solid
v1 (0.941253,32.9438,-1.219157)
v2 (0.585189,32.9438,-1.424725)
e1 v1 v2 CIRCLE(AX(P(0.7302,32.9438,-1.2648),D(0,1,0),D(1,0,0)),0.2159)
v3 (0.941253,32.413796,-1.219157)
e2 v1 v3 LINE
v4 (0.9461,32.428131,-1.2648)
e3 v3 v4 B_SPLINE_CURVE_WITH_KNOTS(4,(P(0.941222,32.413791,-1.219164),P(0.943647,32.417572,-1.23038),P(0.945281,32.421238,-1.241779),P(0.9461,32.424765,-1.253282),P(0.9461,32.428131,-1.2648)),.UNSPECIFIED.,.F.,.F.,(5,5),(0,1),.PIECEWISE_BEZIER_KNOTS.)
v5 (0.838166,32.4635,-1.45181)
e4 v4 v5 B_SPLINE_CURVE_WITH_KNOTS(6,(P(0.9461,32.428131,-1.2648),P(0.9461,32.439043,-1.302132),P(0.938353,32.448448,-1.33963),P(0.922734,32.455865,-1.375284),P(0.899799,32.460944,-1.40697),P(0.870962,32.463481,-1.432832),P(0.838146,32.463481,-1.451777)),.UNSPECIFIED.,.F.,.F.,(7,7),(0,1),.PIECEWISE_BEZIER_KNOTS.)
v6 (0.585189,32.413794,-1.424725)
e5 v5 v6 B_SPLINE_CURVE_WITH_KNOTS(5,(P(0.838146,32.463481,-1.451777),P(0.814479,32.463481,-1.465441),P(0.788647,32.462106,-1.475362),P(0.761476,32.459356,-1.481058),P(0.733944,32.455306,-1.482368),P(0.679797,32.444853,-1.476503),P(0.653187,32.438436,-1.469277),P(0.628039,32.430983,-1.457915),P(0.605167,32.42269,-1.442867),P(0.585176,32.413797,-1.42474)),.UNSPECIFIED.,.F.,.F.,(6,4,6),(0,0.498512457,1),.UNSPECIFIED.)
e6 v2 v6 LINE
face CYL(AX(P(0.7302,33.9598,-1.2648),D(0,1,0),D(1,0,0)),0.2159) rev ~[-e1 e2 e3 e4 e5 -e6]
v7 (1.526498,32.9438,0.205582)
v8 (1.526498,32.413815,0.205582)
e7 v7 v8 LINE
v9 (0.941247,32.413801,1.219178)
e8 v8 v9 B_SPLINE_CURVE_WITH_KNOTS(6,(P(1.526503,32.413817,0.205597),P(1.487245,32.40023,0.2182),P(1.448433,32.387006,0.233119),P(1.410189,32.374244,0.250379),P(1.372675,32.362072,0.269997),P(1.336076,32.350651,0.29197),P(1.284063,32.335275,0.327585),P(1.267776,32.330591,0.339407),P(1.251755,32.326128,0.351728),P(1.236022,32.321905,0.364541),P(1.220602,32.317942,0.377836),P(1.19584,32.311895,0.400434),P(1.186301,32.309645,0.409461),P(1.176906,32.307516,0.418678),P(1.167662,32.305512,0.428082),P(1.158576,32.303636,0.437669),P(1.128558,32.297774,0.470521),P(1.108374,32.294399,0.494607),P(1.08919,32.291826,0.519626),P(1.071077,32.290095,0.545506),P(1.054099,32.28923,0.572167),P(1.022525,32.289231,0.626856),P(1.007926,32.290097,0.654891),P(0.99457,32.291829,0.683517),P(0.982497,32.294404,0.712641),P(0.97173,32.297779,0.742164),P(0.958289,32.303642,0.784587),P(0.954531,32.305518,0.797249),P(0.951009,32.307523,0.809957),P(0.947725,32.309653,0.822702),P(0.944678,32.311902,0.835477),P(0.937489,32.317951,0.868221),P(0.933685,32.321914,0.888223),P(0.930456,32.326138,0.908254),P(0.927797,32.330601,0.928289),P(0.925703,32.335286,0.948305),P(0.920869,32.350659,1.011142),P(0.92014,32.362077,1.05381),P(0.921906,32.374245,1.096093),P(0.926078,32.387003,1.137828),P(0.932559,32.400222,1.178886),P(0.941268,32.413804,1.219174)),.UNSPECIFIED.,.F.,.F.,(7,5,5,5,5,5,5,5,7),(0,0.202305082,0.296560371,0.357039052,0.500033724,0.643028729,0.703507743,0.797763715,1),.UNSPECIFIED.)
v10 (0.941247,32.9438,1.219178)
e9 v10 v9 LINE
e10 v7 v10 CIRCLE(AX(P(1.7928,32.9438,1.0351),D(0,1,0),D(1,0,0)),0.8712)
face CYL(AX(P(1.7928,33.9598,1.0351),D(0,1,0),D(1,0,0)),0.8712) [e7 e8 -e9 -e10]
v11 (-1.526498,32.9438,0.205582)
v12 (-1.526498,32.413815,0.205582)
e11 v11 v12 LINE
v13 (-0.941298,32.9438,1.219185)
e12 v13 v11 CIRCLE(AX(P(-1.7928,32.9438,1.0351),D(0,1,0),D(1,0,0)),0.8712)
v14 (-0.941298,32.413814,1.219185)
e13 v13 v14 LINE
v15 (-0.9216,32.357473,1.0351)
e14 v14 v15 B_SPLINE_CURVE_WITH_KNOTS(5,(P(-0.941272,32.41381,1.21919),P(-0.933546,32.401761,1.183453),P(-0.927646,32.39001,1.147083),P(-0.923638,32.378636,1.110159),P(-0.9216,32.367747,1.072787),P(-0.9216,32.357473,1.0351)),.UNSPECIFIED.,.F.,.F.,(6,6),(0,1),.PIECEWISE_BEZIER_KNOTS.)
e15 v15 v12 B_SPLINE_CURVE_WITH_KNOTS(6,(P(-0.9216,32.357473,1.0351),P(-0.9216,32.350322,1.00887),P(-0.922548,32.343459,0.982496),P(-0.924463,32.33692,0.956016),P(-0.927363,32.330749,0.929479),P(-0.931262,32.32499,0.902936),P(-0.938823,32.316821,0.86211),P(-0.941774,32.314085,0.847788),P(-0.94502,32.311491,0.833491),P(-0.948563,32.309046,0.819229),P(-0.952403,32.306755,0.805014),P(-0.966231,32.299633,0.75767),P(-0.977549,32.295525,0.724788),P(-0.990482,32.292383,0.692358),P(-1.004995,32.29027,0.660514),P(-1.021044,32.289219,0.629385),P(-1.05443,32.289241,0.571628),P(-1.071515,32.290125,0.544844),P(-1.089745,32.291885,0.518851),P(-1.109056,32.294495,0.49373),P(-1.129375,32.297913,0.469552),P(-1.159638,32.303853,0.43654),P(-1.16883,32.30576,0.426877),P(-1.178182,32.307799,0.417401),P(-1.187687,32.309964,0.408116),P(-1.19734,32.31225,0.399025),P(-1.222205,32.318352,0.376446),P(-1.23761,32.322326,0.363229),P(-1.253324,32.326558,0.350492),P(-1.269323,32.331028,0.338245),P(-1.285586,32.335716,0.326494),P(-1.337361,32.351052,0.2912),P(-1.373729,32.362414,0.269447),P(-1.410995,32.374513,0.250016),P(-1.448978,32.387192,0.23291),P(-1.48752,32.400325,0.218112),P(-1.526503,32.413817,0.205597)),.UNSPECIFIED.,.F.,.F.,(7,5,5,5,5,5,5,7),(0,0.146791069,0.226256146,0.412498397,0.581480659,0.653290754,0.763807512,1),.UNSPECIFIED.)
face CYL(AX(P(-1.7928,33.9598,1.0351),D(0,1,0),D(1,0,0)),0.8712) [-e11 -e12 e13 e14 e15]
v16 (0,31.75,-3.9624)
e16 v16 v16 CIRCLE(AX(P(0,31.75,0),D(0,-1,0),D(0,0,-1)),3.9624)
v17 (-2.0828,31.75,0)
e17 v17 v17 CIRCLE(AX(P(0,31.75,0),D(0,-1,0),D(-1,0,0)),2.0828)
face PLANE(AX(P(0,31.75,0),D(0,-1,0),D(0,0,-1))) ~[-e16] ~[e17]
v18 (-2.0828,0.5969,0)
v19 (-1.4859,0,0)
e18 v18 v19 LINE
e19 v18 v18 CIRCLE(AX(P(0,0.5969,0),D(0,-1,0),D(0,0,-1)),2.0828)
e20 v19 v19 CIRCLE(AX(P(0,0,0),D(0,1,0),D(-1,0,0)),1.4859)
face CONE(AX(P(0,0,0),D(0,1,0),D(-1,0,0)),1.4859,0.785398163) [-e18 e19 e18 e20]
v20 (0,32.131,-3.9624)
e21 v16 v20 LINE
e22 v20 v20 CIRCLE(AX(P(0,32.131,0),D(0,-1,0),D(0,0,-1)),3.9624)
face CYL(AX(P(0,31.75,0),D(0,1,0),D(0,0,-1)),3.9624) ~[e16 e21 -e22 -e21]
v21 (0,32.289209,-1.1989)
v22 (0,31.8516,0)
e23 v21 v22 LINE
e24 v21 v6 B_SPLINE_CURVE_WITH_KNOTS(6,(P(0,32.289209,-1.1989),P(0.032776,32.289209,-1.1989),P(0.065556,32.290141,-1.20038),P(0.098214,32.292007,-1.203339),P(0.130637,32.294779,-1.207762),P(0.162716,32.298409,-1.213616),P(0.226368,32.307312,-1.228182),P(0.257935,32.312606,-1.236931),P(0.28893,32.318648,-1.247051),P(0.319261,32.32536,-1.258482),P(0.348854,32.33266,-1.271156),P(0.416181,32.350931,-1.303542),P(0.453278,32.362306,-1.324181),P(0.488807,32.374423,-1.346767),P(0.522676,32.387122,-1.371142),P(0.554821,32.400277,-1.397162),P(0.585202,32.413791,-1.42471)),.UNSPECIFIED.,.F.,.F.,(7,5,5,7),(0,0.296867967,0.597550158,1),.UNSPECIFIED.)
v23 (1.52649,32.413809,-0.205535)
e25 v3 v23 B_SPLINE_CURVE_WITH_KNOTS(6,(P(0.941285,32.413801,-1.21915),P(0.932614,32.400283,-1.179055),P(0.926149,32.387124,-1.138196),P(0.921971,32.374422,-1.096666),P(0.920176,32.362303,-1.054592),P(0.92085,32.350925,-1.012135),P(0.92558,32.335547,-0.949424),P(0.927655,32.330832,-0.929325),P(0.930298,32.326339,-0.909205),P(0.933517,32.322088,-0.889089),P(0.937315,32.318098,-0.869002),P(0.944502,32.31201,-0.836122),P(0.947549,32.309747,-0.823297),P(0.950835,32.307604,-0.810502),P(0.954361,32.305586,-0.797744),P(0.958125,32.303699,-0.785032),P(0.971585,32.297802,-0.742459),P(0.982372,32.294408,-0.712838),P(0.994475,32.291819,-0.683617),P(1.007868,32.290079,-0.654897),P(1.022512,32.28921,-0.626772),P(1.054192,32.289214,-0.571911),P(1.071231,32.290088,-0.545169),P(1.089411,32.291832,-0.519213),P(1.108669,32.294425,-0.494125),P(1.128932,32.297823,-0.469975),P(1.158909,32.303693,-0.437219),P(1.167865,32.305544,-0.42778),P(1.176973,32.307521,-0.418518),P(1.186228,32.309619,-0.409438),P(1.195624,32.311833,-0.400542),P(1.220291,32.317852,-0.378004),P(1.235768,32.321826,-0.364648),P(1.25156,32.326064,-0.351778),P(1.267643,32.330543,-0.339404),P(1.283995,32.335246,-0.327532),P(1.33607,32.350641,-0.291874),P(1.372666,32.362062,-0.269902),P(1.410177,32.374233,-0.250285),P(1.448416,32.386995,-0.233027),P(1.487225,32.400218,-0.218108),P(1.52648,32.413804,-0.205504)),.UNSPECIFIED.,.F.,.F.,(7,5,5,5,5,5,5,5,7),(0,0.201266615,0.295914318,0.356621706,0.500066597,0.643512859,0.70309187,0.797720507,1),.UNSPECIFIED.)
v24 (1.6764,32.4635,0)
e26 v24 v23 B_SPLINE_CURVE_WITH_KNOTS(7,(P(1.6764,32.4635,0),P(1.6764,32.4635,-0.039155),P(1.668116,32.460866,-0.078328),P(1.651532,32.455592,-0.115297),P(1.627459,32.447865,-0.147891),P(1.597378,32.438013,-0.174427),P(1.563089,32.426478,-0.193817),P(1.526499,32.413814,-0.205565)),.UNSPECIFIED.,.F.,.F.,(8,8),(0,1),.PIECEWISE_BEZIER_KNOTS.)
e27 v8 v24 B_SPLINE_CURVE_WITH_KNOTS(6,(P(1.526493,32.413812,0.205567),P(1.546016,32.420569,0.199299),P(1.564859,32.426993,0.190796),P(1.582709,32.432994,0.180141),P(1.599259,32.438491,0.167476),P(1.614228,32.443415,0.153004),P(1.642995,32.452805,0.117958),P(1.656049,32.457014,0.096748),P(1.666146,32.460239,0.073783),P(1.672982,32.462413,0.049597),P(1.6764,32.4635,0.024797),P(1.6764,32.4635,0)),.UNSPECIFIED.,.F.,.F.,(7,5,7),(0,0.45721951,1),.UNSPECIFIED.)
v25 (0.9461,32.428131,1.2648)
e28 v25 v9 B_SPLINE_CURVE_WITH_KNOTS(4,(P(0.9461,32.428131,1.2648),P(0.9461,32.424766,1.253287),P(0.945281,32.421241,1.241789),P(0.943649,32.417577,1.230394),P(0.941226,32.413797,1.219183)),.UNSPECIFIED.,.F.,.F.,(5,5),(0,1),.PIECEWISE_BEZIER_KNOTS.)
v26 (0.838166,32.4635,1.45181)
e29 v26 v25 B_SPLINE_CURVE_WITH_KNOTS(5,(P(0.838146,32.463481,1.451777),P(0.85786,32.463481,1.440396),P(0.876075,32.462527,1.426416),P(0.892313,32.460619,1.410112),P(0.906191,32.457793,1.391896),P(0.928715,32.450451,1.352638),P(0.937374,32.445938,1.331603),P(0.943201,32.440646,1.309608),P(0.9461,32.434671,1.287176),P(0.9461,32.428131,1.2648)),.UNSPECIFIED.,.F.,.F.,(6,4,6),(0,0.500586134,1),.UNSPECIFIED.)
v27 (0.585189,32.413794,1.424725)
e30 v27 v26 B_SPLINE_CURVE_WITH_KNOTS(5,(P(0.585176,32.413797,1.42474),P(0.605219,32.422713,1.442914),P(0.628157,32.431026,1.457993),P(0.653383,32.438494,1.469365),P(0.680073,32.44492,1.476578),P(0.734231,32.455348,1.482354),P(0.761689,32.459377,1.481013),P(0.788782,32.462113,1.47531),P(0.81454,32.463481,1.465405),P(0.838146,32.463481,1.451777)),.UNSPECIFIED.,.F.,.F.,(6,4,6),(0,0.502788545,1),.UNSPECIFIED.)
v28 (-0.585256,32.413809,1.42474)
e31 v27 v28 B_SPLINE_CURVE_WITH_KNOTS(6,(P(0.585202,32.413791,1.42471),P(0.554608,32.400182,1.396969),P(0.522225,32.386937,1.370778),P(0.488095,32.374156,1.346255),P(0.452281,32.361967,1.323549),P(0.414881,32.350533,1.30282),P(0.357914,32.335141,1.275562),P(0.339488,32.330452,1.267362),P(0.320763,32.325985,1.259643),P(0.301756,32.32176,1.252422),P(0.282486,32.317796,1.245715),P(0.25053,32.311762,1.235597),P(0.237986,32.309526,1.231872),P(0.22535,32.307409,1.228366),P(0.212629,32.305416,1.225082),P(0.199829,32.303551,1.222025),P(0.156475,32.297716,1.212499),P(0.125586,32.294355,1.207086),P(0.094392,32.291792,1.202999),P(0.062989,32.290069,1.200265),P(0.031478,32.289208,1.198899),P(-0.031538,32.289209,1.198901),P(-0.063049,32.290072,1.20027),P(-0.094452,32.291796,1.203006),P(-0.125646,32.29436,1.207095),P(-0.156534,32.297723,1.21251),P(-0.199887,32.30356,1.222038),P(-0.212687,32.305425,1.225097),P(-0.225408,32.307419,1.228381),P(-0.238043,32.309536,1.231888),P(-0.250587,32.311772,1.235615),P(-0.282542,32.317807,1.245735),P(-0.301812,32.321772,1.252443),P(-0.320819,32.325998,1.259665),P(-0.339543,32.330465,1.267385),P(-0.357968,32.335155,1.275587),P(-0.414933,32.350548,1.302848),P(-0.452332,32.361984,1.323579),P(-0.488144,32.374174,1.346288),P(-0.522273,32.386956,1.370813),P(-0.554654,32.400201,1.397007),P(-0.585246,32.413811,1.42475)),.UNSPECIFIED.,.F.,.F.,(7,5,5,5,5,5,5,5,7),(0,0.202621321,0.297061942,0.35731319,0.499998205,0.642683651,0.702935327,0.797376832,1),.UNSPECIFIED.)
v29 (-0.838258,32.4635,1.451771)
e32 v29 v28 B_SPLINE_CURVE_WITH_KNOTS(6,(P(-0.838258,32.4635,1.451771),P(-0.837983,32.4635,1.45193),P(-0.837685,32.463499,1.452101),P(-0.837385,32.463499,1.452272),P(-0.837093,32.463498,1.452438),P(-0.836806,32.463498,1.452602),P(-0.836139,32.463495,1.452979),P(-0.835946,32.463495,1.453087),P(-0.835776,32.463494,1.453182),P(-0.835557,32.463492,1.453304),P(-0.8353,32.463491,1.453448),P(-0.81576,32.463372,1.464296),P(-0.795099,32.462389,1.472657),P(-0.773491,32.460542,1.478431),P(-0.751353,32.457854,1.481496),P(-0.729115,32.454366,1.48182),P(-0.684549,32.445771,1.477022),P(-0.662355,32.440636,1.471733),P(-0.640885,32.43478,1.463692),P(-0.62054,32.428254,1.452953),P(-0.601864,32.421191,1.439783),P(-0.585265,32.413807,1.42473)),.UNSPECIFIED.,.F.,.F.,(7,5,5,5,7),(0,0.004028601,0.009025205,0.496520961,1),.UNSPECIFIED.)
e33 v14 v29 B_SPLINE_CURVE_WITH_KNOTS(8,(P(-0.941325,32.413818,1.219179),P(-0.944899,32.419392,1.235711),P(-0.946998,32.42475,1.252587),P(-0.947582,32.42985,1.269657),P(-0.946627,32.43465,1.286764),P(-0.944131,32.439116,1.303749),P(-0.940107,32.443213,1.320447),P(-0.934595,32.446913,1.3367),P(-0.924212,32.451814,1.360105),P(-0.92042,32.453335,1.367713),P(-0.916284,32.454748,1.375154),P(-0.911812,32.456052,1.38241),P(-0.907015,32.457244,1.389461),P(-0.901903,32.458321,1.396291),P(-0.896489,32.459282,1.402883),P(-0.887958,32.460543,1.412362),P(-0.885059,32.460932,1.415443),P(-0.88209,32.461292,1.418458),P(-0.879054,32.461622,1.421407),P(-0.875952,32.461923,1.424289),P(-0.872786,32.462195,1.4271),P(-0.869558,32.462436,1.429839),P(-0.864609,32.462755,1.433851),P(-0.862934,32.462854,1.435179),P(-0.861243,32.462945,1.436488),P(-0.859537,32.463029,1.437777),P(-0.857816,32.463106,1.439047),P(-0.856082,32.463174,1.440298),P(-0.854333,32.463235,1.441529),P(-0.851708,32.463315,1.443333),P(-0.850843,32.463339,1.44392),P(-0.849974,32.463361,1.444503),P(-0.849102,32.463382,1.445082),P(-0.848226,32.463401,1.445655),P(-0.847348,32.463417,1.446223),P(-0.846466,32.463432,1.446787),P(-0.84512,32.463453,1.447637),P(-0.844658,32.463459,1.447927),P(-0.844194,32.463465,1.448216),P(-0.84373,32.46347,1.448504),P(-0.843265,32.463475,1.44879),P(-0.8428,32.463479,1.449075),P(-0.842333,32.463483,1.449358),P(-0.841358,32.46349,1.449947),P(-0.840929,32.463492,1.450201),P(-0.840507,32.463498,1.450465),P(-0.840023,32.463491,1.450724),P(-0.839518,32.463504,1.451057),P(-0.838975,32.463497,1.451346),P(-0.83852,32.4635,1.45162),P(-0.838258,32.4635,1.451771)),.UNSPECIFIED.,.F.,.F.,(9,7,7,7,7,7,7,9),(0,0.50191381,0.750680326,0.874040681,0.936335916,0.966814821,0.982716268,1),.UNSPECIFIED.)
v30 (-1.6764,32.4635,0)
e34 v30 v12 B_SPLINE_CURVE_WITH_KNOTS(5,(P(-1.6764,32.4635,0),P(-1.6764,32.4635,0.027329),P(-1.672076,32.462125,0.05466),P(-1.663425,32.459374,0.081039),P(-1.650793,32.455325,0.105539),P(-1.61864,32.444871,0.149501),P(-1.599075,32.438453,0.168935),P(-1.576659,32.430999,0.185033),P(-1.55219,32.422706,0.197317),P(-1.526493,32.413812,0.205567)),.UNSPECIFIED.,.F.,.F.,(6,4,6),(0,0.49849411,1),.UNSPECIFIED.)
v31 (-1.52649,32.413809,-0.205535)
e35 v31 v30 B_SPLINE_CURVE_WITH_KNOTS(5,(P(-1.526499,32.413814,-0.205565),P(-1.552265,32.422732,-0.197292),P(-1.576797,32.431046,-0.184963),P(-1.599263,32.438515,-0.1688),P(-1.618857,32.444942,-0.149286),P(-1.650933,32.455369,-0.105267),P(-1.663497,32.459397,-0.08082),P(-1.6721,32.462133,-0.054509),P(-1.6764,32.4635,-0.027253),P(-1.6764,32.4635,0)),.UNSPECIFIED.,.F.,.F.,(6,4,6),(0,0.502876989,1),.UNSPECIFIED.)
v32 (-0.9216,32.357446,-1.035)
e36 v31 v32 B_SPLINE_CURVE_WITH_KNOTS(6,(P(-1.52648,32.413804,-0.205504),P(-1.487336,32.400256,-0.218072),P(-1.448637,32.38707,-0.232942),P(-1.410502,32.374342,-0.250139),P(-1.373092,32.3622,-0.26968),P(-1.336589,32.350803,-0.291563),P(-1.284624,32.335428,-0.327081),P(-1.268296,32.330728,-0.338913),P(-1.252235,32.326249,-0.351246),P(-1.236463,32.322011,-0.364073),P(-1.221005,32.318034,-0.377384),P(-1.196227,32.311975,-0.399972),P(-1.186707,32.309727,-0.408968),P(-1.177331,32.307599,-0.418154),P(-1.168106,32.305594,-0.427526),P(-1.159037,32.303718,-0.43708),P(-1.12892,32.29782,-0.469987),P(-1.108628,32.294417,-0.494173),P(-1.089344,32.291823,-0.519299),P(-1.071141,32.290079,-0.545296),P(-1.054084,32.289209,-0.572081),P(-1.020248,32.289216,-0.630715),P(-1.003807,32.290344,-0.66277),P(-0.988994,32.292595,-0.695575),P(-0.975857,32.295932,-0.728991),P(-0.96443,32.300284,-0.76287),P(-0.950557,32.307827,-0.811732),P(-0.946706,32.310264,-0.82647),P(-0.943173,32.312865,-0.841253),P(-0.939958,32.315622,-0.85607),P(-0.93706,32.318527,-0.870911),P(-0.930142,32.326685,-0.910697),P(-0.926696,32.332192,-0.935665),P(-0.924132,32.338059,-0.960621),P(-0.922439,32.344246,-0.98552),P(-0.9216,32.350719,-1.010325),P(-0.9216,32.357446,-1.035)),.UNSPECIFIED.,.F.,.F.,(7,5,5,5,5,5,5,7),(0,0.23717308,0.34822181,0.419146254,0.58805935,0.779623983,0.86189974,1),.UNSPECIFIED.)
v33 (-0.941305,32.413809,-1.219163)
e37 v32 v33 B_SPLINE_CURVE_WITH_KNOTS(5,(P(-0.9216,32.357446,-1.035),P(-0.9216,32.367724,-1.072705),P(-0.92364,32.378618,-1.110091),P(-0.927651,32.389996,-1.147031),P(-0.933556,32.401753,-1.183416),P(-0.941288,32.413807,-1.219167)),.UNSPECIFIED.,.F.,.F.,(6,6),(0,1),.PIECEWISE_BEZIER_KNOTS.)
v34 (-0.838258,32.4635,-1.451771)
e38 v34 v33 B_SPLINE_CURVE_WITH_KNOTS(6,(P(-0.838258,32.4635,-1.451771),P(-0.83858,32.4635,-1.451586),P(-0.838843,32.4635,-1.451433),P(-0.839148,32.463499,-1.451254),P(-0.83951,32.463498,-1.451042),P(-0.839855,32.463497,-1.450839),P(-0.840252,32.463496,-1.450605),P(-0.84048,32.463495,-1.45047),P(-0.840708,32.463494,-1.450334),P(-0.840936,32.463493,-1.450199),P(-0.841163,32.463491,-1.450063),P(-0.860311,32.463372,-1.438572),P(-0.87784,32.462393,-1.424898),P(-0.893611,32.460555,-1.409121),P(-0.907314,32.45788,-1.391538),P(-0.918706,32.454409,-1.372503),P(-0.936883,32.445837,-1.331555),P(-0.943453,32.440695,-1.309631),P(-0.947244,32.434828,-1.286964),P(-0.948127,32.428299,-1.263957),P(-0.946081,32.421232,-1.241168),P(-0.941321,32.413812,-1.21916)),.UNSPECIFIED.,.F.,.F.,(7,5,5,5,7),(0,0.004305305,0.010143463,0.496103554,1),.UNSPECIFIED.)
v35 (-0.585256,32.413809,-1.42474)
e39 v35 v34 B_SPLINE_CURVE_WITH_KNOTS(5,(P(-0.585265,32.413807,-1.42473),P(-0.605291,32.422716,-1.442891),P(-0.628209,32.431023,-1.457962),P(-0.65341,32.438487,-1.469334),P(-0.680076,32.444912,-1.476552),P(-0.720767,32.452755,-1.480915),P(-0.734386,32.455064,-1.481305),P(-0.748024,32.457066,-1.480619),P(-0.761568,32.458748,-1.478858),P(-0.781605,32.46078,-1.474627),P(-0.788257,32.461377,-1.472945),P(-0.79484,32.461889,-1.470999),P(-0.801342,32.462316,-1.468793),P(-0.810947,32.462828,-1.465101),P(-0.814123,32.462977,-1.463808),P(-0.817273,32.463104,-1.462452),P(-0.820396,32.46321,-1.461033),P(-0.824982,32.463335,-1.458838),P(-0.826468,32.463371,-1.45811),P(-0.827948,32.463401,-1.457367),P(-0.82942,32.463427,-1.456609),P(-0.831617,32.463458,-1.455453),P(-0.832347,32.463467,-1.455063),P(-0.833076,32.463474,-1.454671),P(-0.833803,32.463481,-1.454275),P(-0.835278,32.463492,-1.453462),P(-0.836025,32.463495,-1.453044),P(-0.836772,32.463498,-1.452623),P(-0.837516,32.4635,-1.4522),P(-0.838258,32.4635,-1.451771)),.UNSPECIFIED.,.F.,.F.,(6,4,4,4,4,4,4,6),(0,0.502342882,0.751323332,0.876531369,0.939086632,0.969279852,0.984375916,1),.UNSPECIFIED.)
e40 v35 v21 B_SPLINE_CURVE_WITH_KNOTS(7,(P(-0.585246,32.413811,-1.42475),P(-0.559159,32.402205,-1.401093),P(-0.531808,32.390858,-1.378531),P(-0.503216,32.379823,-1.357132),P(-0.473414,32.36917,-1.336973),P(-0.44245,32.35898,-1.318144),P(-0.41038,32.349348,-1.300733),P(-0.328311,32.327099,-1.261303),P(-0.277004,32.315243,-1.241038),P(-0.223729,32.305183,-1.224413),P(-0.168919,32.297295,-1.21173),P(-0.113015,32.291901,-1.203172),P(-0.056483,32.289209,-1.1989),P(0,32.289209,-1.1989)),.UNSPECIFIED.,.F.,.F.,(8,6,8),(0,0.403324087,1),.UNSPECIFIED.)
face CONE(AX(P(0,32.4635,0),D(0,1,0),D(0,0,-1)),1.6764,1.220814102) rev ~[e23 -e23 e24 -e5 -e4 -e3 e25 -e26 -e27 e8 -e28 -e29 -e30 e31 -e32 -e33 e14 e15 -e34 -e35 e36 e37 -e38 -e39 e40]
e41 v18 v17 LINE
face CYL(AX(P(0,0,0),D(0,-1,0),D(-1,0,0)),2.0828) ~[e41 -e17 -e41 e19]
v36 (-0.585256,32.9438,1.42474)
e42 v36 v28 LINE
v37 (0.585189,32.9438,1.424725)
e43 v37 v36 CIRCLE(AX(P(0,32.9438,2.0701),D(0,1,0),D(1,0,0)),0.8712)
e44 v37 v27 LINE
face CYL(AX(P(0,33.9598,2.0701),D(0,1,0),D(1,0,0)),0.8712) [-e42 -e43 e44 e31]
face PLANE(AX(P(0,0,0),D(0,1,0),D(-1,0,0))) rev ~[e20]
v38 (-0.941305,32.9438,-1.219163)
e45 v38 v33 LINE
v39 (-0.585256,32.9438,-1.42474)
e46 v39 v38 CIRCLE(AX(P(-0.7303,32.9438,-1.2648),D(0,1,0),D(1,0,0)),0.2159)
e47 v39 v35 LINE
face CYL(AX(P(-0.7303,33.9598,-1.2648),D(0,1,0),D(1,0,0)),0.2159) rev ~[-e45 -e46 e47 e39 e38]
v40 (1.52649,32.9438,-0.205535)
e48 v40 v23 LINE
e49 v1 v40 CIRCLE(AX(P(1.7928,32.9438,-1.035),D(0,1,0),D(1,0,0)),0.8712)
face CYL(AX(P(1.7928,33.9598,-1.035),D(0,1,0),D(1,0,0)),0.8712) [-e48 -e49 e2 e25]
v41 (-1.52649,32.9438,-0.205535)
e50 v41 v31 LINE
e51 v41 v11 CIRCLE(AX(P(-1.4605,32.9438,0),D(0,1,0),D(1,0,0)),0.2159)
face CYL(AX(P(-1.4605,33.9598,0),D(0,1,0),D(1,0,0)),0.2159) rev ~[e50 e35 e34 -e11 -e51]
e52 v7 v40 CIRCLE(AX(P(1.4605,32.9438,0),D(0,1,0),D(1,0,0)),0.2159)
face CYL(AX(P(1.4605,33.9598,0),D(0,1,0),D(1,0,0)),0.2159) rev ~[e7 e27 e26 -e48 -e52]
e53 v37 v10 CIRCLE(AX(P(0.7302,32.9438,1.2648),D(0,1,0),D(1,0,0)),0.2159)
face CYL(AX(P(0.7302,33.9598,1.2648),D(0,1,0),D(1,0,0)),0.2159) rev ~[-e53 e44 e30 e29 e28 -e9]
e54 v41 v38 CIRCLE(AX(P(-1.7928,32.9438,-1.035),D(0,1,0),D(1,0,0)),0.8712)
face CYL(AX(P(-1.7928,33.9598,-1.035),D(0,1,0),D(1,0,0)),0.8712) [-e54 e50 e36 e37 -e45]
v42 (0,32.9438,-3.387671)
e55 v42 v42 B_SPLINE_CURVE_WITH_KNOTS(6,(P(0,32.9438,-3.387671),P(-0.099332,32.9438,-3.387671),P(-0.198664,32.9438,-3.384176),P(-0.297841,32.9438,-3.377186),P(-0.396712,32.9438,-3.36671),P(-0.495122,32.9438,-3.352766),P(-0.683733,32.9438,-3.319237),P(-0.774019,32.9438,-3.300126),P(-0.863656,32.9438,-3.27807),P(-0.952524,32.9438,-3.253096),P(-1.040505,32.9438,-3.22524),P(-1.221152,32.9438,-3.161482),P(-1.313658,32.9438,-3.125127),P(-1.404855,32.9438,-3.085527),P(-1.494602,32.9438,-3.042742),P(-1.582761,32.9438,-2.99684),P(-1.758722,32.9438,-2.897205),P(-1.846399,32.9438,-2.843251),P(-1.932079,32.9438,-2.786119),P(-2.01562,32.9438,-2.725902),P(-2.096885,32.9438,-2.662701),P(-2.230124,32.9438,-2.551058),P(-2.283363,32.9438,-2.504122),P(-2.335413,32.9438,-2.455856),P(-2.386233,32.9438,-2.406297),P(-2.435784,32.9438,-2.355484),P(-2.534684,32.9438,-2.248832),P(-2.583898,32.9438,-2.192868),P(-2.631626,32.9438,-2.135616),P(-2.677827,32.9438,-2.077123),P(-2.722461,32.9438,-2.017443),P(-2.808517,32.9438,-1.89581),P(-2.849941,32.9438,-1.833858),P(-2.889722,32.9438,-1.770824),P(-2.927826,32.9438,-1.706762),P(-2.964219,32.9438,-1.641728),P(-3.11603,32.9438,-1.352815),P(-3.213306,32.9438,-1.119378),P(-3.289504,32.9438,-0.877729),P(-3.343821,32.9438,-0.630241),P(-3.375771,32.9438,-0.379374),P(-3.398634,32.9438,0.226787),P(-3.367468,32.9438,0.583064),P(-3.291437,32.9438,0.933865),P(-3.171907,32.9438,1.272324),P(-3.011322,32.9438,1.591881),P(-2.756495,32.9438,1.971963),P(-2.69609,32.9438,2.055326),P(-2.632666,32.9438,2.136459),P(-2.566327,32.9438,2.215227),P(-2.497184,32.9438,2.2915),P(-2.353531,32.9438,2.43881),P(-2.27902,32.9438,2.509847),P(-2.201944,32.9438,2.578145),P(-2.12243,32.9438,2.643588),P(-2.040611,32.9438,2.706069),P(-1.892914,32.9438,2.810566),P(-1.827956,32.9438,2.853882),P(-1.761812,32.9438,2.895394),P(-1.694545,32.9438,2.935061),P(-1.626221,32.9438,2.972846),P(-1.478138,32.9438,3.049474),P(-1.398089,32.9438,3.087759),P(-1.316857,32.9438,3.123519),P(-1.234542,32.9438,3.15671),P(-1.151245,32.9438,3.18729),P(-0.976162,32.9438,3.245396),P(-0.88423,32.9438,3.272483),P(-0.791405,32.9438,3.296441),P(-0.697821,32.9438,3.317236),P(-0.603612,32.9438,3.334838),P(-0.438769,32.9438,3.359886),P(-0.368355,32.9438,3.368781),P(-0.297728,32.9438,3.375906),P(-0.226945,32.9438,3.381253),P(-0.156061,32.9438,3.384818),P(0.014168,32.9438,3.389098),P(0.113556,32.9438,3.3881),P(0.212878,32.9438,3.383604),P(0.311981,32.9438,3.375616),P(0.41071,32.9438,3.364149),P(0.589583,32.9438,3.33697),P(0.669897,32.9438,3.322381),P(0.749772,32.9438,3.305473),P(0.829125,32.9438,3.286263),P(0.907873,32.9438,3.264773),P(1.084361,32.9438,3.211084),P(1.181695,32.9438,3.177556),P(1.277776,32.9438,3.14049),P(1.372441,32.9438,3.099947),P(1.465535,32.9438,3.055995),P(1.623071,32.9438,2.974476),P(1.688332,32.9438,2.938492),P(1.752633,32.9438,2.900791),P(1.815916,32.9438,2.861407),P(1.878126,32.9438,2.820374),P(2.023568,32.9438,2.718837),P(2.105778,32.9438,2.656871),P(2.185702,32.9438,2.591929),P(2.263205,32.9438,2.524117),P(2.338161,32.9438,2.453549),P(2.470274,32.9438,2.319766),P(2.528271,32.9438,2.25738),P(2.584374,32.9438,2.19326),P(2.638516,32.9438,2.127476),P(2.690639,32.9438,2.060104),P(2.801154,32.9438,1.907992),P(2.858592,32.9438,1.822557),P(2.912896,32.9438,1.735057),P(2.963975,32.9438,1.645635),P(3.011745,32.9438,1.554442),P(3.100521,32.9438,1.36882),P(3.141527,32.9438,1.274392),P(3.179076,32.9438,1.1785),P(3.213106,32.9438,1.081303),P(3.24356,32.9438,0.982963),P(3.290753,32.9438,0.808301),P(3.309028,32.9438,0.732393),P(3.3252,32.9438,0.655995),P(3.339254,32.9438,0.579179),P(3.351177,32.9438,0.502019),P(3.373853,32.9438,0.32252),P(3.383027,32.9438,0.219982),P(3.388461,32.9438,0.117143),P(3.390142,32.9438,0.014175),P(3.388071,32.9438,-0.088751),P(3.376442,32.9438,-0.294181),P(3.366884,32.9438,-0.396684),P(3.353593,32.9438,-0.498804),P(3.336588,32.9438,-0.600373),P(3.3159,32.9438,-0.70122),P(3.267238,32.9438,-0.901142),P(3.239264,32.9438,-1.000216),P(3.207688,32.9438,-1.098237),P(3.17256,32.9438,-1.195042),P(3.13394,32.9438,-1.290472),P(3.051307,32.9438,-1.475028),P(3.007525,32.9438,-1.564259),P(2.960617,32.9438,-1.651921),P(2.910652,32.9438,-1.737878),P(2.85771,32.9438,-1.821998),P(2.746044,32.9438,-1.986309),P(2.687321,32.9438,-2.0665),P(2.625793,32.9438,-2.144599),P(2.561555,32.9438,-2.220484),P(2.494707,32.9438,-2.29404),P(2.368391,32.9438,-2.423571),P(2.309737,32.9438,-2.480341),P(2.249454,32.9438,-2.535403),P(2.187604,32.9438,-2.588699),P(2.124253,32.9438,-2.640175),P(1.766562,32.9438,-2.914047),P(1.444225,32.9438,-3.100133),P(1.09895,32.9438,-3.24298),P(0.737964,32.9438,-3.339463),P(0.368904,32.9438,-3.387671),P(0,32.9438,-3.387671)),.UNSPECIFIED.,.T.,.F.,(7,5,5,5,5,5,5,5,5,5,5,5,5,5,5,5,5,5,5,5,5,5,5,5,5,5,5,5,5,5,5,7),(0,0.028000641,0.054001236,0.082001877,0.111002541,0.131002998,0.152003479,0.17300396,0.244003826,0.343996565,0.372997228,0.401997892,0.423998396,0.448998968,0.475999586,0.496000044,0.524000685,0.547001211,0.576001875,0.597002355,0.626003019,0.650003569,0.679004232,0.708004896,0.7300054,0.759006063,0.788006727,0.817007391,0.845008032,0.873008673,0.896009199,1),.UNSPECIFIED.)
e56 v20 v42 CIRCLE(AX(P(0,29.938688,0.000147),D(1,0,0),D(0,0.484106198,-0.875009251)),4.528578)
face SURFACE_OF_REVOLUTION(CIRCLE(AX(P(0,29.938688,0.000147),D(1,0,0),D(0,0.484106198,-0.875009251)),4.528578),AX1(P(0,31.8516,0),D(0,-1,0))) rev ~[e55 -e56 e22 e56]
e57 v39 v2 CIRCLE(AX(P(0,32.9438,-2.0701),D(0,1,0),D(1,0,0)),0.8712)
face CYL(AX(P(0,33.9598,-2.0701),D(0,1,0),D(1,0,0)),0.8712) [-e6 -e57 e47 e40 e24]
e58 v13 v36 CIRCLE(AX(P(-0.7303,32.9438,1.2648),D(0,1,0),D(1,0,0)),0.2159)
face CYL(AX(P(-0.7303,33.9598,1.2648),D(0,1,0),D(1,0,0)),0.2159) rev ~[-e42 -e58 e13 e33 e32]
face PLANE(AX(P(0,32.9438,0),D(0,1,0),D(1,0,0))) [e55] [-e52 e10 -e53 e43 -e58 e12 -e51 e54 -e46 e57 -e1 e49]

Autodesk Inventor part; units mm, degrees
ref_plane "YZ Plane" through (0, 0, 0) normal (1, 0, 0) x (0, 1, 0)
ref_plane "XZ Plane" through (0, 0, 0) normal (0, 1, 0) x (-1, 0, 0)
ref_plane "XY Plane" through (0, 0, 0) normal (0, 0, 1) x (1, 0, 0)
sketch "Sketch1" plane through (0, 0, 0) normal (0, 1, 0) x (-1, 0, 0)
  circle A0 centre (0, 0) radius 2.0828
  dimension "d4" = 4.1656
extrude "Body" add sketch "Sketch1" along normal blind 31.75
sketch "Sketch2" plane through (0, 0, 0) normal (1, 0, 0) x (0, 1, 0)
  line L0 (31.75, -2.0828) -> (31.75, 2.0828) projected
  line L1 (31.75, 0) -> (31.75, -3.9624)
  line L2 (31.75, -3.9624) -> (32.131, -3.9624)
  arc A0 (32.131, -3.9624) -> (33.9598, -2.0828) centre (29.9388, 0) ccw
  line L3 (33.9598, -2.0828) -> (33.9598, -1.6764)
  line L4 (33.9598, -1.6764) -> (32.4635, -1.6764)
  line L5 (32.4635, -1.6764) -> (31.8516, 0)
  line L6 (31.8516, 0) -> (31.75, 0)
  point P0 (0, 0)
  dimension "d5" = 3.9624
  dimension "d6" = 0.381
  dimension "d13" = 0.1016
  dimension "d14" = 2.0828
  dimension "d15" = 2.2098
  dimension "d16" = 0
  dimension "d17" = 1.6764
  dimension "d57" = 20.053
revolve "Head" add sketch "Sketch2" angle 360 about axis through (0, 31.8516, 0) along (0, -1, 0)
sketch "Sketch3" plane through (0, 33.9598, 0) normal (0, 1, 0) x (1, 0, 0)
  circle A0 centre (0, 0) radius 1.6764 projected
  line L0 (0.7302, -1.2648) -> (-0.7303, -1.2648) construction
  line L1 (-0.7303, -1.2648) -> (-1.4605, 0) construction
  line L2 (-1.4605, 0) -> (-0.7303, 1.2648) construction
  line L3 (-0.7303, 1.2648) -> (0.7302, 1.2648) construction
  line L4 (0.7302, 1.2648) -> (1.4605, 0) construction
  line L5 (1.4605, 0) -> (0.7302, -1.2648) construction
  circle A1 centre (-0.7303, -1.2648) radius 0.2159
  circle A2 centre (-1.4605, 0) radius 0.2159
  circle A3 centre (-0.7303, 1.2648) radius 0.2159
  circle A4 centre (0.7302, 1.2648) radius 0.2159
  circle A5 centre (1.4605, 0) radius 0.2159
  circle A6 centre (0.7302, -1.2648) radius 0.2159
  circle A7 centre (0, -2.0701) radius 0.8712
  circle A8 centre (0, 2.0701) radius 0.8712
  circle A9 centre (1.7928, -1.0351) radius 0.8712
  circle A10 centre (-1.7928, 1.035) radius 0.8712
  circle A11 centre (1.7928, 1.035) radius 0.8712
  circle A12 centre (-1.7928, -1.0351) radius 0.8712
  circle A13 centre (0, 0) radius 1.8188
  point P0 (0, 0)
  point P1 (0, 0)
  point P2 (0.9413, 1.2192)
  point P3 (1.5265, 0.2056)
  point P4 (1.5265, -0.2056)
  point P5 (0.9413, -1.2192)
  point P6 (0.5852, -1.4248)
  point P7 (-0.5852, -1.4248)
  point P8 (-0.9413, -1.2192)
  point P9 (-1.5265, -0.2056)
  point P10 (-1.5265, 0.2056)
  point P11 (-0.9413, 1.2192)
  point P12 (-0.5852, 1.4248)
  point P13 (0.5852, 1.4248)
  dimension "d58" = 2.921
  dimension "d59" = 4.1402
  dimension "d62" = 120
extrude "Hex" add sketch "Sketch3" against normal blind 1.778 contours A5 A11 A0 | A0 A11 A13 A9 | A0 A9 A5 | A11 A0 | A0 A11 A13 | A9 A13 A0 | A0 A9 | A11 A4 A0 | A0 A8 A13 A11 | A9 A13 A7 A0 | A0 A6 A9 | A4 A8 A0 | A0 A7 A6 | A8 A0 | A7 A0 | A0 A8 A13 | A7 A13 A0 | A3 A0 A8 | A7 A0 A1 | A0 A10 A13 A8 | A7 A13 A12 A0 | A3 A10 A0 | A0 A12 A1 | A10 A0 A13 | A13 A12 A0 | A10 A0 | A0 A12 | A10 A0 A12 A13 | A10 A2 A0 | A0 A2 A12
sketch "Sketch4" plane through (0, 0, 0) normal (0, 0, 1) x (1, 0, 0)
  line L0 (-0.7364, 33.0198) -> (-1.6764, 33.9598)
  line L1 (0, 33.9598) -> (-0.7364, 33.0198)
  line L2 (0, -9.332) -> (0, 55.9918) projected
  line L3 (-1.5265, 33.9598) -> (-1.5265, 32.4138) projected
  line L4 (-1.5265, 33.9598) -> (-1.5265, 33.9598) projected
  line L5 (-1.5265, 33.9598) -> (-1.5265, 32.4138) projected
  line L6 (-1.6764, 33.9598) -> (-1.5265, 33.9598) projected
  line L7 (-1.6764, 33.9598) -> (0, 33.9598)
  point P0 (0, 0)
  point P1 (-1.6764, 32.4635)
  dimension "d29" = 1.6764
revolve "Head Chamfer" cut sketch "Sketch4" angle 360 about axis through (0, -10, 0) along (0, 1, 0)
feature "Thread" [suppressed]
sketch "Sketch6" plane through (0, 0, 0) normal (0, 0, 1) x (1, 0, 0)
  line L0 (0, 0) -> (-1.4859, 0)
  line L1 (2.0828, 0) -> (-2.0828, 0) projected
  line L2 (-1.4859, 0) -> (-2.4948, 1.0089)
  line L3 (-2.4948, 1.0089) -> (-2.9651, -1.2188)
  line L4 (-2.9651, -1.2188) -> (-1.4859, -1.2188)
  line L5 (-2.0828, 0) -> (-2.0828, 31.75) projected
  line L6 (-1.4859, -1.2188) -> (-1.4859, 0)
  line L7 (0, -10.3526) -> (0, 53.5838) projected
  point P0 (-2.0828, 0.5969)
  dimension "d49" = 1.4859
  dimension "d50" = 135
revolve "Tapered End" cut sketch "Sketch6" angle 360 about axis through (0, -10, 0) along (0, 1, 0)
sketch "Sketch8" plane through (0, 33.9598, 0) normal (0, 1, 0) x (1, 0, 0)
  circle A0 centre (0, 0) radius 4.7625
  point P0 (0, 0)
extrude "Extrusion3" cut sketch "Sketch8" against normal blind 1.016
sketch "Sketch5" plane through (0, 0, 0) normal (1, 0, 0) x (0, 1, 0)
  line L0 (0, -2.0828) -> (31.75, -2.0828) projected
  line L1 (31.75, 3.9624) -> (31.75, -3.9624) projected
  line L2 (31.75, -2.0828) -> (31.75, 2.0828) projected
  line L3 (0.0745, -2.0828) -> (-0.2261, -2.6035)
  line L4 (-0.2261, -2.6035) -> (-0.3253, -2.6035)
  line L5 (-0.3253, -2.6035) -> (-0.626, -2.0828)
  line L6 (0.0686, -2.6035) -> (-0.7252, -2.6035) construction
  line L7 (-0.626, -2.0828) -> (0.0745, -2.0828)
  line L8 (0, -2.0828) -> (31.75, -2.0828) projected
  point P0 (0, 0)
  dimension "d31" = 30
  dimension "d32" = 60
  dimension "a" = 0.0992
  dimension "d46" = 0.7937
  dimension "d54" = 0.0686
  dimension "d55" = 0.5207
  dimension "d56" = 0.0992
equation "\"d56\" = a"
properties part number "Screw 8-32 Steel 2.500" material "VEX Steel"
